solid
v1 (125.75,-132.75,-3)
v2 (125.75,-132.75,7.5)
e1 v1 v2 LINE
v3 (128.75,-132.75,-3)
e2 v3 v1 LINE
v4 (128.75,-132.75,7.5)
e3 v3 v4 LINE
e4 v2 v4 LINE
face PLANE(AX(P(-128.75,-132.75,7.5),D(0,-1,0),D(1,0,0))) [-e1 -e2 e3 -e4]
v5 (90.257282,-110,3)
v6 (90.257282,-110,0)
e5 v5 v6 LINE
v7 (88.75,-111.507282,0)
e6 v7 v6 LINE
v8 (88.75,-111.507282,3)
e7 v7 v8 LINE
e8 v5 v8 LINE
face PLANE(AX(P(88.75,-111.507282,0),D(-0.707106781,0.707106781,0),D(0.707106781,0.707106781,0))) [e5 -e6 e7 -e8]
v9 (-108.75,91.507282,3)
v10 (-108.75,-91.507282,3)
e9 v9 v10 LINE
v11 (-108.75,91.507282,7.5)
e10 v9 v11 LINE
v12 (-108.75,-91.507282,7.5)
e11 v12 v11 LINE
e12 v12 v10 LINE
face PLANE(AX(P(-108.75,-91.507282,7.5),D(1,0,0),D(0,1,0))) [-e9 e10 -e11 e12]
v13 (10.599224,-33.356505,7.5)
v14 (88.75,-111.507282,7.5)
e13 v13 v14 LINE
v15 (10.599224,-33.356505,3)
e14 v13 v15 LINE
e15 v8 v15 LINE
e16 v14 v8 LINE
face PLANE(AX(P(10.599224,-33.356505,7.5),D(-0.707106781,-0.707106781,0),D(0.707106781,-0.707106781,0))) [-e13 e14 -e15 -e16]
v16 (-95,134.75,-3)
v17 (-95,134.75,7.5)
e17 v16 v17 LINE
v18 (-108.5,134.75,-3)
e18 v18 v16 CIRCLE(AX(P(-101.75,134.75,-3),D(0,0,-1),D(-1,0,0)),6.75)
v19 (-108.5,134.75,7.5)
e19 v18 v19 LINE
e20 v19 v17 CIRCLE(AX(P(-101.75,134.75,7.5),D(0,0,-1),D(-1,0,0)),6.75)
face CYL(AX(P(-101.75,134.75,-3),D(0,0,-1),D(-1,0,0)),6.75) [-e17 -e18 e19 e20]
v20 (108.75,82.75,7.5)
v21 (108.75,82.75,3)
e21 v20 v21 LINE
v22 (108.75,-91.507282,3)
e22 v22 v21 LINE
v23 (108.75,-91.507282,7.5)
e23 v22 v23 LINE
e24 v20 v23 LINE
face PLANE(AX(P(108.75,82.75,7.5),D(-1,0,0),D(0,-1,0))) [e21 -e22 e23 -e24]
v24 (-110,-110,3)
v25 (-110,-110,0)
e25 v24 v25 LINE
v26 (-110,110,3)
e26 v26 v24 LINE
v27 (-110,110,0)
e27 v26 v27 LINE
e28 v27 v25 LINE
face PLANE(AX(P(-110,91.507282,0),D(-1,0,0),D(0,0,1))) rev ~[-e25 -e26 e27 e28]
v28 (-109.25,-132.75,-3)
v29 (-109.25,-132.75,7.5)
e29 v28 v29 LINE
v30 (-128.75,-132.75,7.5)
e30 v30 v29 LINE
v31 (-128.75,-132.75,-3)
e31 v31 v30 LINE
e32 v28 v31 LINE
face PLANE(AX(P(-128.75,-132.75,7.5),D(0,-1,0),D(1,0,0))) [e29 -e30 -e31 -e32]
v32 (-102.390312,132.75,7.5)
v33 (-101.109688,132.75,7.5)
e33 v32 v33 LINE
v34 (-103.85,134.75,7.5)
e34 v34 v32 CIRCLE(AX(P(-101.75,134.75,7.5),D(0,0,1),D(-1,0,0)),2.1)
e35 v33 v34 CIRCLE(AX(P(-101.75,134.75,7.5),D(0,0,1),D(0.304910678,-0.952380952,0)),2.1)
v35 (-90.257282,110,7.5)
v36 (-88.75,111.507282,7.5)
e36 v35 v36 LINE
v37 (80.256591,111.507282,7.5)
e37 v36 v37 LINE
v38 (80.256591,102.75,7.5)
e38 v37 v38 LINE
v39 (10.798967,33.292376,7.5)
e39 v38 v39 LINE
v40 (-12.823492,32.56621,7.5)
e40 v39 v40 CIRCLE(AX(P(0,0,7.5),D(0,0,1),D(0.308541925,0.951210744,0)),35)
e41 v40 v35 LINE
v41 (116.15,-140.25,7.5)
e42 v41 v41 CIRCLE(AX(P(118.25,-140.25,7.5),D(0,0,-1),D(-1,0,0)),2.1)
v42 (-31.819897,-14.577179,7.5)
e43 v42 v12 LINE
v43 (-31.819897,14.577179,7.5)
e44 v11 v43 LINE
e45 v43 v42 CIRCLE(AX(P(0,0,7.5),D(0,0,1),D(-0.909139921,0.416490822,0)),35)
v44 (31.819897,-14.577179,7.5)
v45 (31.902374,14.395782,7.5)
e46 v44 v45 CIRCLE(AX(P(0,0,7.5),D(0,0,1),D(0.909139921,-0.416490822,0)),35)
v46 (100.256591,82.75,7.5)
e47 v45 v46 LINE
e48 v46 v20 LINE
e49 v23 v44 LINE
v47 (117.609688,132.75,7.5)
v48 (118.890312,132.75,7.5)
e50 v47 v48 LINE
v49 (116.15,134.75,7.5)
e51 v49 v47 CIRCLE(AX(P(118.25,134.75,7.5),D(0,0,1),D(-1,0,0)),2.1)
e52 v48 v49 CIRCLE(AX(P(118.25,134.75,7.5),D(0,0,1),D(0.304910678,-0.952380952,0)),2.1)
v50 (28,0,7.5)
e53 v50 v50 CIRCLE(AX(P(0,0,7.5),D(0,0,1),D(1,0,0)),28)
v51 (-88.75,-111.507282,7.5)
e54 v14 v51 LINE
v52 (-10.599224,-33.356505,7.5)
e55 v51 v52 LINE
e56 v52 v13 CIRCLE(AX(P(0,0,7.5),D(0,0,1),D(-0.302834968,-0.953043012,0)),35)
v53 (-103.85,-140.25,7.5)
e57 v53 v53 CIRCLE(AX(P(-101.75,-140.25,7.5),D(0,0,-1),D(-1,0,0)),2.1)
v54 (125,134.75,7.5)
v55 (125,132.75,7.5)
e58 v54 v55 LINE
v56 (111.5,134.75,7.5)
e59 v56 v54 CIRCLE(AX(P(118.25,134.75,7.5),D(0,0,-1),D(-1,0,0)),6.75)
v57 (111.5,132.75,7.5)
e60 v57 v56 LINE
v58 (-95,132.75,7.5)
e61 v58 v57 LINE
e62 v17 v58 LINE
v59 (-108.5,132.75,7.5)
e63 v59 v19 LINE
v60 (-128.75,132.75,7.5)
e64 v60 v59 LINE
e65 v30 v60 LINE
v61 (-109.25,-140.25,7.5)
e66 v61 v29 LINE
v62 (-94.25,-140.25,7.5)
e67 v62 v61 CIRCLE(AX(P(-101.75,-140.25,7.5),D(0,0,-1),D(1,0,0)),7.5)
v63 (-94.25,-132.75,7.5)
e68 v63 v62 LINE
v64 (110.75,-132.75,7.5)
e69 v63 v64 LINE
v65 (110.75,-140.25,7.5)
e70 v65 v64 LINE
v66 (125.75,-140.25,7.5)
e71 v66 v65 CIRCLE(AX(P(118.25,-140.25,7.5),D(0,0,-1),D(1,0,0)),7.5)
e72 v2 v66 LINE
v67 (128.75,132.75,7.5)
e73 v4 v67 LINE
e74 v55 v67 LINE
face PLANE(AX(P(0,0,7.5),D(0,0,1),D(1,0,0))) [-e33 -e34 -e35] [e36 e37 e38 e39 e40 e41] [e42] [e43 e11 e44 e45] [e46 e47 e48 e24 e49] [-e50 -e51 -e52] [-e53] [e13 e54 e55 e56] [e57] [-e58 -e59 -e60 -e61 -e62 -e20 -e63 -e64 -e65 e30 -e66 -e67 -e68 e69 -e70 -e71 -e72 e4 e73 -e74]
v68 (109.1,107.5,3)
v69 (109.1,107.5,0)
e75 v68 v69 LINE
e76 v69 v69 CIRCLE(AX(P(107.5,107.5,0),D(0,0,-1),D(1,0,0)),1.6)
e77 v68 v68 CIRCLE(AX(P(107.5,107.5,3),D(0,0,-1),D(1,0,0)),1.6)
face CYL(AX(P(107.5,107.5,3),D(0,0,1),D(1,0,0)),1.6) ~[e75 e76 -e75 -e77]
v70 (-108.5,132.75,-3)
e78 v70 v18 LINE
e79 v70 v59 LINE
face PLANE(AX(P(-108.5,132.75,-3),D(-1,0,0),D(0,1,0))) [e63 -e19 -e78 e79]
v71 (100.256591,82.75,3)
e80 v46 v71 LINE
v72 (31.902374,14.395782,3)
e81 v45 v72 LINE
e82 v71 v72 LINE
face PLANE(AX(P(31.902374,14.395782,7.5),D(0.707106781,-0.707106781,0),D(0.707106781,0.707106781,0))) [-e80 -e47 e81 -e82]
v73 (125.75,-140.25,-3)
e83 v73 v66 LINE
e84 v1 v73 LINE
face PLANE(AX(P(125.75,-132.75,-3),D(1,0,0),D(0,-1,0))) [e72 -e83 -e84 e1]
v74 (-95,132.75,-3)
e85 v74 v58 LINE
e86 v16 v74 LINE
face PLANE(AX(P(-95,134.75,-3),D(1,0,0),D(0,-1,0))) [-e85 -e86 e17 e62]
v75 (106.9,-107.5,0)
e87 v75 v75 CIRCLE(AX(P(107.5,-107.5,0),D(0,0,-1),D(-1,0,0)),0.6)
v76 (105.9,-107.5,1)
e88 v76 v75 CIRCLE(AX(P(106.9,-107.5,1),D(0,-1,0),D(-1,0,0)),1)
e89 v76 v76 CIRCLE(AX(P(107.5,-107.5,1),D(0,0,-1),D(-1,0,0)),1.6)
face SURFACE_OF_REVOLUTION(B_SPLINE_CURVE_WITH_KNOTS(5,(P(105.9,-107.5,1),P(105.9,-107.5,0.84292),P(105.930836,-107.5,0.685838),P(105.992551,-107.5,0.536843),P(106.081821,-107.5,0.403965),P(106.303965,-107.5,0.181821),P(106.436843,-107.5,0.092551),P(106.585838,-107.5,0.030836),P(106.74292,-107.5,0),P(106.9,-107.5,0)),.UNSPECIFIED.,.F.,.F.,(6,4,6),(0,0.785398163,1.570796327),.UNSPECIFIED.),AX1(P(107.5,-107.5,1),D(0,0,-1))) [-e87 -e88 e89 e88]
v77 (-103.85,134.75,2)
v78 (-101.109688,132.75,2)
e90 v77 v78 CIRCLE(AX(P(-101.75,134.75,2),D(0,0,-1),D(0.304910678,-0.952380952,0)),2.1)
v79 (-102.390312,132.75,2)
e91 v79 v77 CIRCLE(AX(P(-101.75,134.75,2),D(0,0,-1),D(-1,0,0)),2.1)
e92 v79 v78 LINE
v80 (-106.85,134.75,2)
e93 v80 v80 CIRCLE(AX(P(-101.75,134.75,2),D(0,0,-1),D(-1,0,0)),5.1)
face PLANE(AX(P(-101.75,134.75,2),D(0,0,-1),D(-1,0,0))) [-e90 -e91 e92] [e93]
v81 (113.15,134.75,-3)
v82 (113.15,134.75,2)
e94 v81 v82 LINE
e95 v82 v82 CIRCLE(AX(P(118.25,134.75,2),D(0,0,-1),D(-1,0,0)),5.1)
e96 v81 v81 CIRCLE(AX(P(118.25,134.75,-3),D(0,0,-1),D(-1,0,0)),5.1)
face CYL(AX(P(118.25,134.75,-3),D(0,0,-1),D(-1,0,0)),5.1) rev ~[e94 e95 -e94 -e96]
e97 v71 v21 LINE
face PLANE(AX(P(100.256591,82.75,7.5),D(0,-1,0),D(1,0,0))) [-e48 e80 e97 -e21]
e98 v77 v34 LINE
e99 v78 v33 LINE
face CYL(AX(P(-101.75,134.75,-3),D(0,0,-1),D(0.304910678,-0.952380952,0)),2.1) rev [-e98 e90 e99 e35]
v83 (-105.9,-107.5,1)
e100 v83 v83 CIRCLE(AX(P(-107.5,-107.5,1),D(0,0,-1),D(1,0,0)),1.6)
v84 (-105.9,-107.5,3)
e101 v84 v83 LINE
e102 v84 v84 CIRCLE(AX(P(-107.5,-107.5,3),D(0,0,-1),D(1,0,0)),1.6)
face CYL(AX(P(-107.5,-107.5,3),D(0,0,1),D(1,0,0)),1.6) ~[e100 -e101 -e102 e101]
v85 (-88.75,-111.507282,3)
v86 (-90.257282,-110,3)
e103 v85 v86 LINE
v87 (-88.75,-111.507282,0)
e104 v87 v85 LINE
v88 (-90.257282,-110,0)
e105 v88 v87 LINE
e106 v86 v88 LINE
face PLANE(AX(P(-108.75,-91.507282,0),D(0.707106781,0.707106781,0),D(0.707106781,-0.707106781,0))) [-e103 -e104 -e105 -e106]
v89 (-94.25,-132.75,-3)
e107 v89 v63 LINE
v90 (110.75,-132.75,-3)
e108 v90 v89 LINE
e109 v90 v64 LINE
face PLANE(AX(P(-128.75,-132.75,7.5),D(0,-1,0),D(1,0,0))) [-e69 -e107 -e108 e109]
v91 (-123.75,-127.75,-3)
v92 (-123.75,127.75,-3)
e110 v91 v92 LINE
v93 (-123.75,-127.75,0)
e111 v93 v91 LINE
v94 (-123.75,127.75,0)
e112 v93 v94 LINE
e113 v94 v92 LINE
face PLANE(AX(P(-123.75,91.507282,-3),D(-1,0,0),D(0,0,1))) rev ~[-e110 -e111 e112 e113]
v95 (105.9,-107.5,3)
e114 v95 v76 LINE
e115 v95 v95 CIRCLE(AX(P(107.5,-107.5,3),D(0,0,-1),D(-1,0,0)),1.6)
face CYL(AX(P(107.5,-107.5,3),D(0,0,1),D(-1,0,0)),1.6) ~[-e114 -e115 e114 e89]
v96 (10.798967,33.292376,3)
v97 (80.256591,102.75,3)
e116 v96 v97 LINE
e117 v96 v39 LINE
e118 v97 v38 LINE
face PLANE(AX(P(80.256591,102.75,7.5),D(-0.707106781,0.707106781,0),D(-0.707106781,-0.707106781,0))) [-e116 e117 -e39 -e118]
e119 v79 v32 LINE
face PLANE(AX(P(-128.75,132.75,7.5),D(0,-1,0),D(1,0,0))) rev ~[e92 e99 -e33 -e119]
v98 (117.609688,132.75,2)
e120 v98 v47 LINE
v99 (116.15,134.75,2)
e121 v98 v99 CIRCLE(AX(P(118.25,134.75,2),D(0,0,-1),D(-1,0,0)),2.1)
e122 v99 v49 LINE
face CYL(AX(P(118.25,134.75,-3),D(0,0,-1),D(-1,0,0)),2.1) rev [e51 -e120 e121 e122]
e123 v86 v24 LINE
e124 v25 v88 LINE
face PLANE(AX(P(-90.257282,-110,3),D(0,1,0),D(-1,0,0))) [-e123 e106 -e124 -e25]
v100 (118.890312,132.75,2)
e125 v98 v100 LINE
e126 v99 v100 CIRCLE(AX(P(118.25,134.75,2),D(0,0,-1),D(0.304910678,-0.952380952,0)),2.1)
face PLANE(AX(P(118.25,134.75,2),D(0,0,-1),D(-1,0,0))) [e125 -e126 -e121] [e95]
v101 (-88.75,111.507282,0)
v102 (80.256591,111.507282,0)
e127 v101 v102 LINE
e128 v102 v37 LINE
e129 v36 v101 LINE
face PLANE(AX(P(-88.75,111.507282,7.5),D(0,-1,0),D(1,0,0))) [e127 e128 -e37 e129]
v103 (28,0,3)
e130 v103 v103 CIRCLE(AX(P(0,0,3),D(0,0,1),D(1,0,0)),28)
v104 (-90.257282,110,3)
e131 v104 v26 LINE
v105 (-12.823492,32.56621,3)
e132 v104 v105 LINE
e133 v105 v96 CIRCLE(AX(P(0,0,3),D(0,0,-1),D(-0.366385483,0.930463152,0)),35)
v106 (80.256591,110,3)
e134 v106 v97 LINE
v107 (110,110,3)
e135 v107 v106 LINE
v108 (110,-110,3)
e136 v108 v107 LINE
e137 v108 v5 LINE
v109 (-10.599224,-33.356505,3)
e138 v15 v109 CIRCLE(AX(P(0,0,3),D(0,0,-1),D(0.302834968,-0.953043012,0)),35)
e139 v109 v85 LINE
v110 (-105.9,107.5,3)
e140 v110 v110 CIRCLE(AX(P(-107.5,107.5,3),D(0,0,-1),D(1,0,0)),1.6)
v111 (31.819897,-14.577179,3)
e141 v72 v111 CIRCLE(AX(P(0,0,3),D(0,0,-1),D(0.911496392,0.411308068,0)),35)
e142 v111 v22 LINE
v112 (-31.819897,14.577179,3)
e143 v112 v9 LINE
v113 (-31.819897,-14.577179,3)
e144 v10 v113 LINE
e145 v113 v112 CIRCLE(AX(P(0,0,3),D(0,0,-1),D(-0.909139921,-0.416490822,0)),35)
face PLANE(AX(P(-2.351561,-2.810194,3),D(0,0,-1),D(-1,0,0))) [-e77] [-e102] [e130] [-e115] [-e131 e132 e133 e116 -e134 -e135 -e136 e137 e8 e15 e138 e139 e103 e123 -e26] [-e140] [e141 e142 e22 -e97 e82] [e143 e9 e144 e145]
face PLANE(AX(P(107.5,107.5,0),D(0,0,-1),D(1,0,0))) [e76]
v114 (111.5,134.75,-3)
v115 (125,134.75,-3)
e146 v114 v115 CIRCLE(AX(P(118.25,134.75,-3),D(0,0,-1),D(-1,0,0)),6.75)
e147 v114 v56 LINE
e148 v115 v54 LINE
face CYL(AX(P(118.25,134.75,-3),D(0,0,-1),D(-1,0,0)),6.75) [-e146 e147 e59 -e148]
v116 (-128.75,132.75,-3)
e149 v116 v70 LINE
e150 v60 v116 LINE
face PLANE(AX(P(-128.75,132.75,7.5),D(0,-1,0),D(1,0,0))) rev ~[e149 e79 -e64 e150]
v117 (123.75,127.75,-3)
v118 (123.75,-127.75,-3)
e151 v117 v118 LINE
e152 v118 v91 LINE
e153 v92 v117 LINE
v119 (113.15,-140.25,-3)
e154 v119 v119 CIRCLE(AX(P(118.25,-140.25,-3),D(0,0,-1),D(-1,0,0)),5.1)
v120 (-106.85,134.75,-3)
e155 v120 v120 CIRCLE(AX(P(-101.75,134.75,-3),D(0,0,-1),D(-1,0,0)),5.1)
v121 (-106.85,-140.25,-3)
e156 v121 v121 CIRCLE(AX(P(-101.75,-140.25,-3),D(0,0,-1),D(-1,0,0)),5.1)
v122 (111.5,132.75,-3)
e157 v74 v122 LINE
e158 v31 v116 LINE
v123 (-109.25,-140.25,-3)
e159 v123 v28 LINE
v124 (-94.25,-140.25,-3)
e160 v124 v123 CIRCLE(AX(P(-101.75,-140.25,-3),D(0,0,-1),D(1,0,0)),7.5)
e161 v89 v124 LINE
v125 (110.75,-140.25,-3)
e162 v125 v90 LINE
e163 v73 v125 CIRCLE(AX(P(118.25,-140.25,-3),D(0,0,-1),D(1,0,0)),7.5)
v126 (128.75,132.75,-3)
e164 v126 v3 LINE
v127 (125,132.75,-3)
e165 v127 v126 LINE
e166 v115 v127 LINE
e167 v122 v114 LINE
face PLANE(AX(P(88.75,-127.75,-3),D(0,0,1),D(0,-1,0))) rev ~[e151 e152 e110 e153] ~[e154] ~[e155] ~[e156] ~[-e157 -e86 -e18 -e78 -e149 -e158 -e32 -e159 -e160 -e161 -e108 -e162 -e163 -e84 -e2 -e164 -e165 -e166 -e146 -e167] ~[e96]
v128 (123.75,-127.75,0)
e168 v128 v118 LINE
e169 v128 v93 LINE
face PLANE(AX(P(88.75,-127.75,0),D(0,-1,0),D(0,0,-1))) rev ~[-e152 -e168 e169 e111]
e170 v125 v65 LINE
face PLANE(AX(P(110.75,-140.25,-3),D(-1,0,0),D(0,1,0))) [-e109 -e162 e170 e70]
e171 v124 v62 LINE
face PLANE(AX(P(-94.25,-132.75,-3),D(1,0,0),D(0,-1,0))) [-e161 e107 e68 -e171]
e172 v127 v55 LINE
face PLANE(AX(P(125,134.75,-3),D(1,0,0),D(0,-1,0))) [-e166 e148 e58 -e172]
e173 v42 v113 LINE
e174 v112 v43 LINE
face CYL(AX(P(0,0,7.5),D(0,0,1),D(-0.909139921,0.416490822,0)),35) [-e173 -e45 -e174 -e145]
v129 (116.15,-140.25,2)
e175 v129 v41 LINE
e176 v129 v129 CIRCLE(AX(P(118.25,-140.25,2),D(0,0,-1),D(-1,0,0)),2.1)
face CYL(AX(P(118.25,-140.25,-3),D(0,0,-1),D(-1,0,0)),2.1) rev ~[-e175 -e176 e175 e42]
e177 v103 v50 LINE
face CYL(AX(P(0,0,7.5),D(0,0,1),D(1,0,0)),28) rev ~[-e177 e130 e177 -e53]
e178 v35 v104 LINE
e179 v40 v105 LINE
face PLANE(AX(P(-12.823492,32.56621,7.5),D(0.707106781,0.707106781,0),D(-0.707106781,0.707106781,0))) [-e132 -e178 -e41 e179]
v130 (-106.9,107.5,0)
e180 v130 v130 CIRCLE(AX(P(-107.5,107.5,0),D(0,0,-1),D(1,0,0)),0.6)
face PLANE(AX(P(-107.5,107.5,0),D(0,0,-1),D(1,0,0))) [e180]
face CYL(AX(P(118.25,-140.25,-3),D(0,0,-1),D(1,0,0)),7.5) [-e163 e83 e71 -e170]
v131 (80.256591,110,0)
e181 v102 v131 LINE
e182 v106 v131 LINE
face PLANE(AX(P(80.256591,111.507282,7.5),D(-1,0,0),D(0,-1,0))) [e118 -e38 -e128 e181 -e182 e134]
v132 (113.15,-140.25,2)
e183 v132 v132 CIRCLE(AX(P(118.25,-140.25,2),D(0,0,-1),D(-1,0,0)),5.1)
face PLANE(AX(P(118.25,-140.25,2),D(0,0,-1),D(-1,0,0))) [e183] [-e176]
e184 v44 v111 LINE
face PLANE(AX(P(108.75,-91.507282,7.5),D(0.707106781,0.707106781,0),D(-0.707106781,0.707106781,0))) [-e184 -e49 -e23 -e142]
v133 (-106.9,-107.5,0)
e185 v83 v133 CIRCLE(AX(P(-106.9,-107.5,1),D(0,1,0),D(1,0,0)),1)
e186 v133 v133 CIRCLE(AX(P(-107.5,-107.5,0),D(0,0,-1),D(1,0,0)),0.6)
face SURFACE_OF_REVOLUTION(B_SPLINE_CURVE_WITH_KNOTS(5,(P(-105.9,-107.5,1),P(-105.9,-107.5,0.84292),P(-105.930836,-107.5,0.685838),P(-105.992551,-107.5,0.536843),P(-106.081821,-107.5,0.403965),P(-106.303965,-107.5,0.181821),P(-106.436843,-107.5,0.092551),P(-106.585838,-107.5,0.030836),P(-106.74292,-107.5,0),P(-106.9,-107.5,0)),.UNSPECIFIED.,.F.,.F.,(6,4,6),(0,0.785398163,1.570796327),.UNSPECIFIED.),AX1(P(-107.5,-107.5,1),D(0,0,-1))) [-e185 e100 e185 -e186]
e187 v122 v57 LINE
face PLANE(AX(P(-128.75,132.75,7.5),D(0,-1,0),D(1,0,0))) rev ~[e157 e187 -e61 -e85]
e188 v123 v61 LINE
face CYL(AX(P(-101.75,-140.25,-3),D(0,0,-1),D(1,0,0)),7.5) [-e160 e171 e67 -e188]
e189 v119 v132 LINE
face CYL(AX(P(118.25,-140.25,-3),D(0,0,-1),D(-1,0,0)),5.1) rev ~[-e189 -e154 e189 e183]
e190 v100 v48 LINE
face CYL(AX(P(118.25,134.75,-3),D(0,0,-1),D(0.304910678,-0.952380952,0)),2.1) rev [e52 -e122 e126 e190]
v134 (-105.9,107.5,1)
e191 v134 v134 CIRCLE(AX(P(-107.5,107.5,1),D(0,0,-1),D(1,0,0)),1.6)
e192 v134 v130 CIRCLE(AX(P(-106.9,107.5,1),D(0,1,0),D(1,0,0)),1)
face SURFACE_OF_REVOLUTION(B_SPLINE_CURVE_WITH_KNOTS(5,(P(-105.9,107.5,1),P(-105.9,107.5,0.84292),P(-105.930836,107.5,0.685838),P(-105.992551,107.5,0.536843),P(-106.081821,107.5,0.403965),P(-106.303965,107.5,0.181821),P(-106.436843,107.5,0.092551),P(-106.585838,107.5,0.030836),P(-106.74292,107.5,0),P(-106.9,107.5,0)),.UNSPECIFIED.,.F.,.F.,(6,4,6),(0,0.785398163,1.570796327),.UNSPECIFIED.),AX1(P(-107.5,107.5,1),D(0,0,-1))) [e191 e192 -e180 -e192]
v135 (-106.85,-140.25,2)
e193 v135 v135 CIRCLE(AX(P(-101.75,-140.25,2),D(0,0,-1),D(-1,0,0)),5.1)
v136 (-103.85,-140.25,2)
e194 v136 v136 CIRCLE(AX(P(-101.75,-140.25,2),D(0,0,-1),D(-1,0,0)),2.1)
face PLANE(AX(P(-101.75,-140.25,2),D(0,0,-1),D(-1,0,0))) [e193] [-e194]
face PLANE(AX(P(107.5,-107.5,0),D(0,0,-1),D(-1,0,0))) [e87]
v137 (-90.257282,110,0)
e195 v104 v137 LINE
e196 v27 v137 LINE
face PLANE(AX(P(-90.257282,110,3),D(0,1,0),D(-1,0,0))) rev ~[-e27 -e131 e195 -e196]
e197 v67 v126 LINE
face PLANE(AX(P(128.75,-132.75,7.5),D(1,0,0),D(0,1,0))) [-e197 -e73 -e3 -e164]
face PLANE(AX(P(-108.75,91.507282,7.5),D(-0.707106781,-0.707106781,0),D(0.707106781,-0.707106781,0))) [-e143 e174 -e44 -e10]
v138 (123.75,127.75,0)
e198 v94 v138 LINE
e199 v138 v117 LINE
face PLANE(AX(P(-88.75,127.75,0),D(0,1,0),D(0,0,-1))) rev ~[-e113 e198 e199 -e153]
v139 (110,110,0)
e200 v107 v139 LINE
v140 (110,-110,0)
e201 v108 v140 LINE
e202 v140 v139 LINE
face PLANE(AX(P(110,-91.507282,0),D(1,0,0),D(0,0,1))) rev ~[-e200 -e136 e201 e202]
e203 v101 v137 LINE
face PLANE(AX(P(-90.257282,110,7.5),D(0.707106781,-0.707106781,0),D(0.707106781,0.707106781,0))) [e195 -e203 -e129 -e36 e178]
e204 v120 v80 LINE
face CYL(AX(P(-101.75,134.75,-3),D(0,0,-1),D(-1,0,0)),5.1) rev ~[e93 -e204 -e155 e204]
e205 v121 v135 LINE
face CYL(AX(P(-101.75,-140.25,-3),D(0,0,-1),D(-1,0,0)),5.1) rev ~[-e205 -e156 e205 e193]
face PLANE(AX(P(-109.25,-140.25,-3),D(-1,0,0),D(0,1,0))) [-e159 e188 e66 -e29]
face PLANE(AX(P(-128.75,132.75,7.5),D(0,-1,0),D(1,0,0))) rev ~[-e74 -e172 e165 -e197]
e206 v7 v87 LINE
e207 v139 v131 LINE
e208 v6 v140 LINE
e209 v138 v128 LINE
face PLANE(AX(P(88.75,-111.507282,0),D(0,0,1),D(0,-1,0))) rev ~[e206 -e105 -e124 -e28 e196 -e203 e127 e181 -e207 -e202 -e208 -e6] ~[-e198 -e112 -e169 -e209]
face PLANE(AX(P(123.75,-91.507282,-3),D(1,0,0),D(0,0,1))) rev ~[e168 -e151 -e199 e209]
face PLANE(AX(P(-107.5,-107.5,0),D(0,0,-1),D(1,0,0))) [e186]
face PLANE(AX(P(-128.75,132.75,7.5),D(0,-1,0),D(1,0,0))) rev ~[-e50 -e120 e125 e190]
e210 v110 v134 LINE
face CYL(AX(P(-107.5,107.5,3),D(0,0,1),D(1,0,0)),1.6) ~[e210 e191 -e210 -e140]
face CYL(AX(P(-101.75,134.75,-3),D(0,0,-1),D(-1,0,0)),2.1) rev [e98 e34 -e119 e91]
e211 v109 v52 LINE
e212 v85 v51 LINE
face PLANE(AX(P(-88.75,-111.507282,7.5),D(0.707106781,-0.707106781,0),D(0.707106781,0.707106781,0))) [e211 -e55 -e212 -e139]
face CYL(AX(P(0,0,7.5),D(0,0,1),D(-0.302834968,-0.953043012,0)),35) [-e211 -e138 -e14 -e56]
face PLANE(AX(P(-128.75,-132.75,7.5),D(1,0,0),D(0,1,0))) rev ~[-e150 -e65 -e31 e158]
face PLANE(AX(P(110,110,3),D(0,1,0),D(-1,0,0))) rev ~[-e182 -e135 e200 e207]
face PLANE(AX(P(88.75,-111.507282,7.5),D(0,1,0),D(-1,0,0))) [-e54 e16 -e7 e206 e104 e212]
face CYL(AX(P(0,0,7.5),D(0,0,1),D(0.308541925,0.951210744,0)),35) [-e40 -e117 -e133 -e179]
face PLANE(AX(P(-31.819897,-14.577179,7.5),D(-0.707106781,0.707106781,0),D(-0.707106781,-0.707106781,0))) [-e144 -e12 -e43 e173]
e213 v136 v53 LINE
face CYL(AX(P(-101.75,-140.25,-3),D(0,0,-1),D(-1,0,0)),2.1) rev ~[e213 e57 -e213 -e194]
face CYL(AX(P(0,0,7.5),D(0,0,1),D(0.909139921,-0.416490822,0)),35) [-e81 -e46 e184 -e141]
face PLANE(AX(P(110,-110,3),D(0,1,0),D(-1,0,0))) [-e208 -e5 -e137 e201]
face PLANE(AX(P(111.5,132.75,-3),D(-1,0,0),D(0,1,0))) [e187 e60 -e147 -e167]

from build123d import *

# Parameters (mm, degrees)
BOSS_EXTRU_1_DEPTH      = 5
BOSS_EXTRU_1_2_DEPTH    = 5
BOSS_EXTRU_1_3_DEPTH    = 5
BOSS_EXTRU_1_4_DEPTH    = 5
BOSS_EXTRU_2_DEPTH      = 3
ENL_V_MAT_EXTRU_2_DEPTH = 186.027362841
ESQUISSE4_R             = 1.6
BOSS_EXTRU_3_DEPTH      = 3
BOSS_EXTRU_4_DEPTH      = 183.014563107
BOSS_EXTRU_6_DEPTH      = 169.006591337
BOSS_EXTRU_7_DEPTH      = 174.257281553
BOSS_EXTRU_8_DEPTH      = 177.5
ESQUISSE10_R            = 28
BOSS_EXTRU_9_DEPTH      = 2
BOSS_EXTRU_11_START     = 2.5
ESQUISSE11_W            = 257.5
ESQUISSE11_H            = 265.5
ESQUISSE11_R            = 28
BOSS_EXTRU_11_DEPTH     = 2.5
ESQUISSE12_R            = 2.1
BOSS_EXTRU_12_DEPTH     = 10.5
ESQUISSE13_R            = 5.1
ENL_V_MAT_EXTRU_3_DEPTH = 5
BOSS_EXTRU_13_DEPTH     = 10.5
ESQUISSE15_R            = 5.1
ENL_V_MAT_EXTRU_4_DEPTH = 5
CONG_1_R                = 1


with BuildPart() as part:
    # Esquisse1 → Boss.-Extru.1 (new body)
    with BuildSketch(Plane.XY):
        Polygon((128.75, -132.75), (88.75, -132.75), (88.75, -111.507281553), (108.75, -91.507281553), (128.75, -91.507281553), align=None)
    extrude(amount=BOSS_EXTRU_1_DEPTH)



with BuildPart() as body_2:
    # Esquisse1 → Boss.-Extru.1 2 (new body)
    with BuildSketch(Plane.XY):
        Polygon((128.75, 132.75), (80.256591337, 132.75), (80.256591337, 102.75), (100.256591337, 82.75), (128.75, 82.75), align=None)
    extrude(amount=BOSS_EXTRU_1_2_DEPTH)


with BuildPart() as body_3:
    # Esquisse1 → Boss.-Extru.1 3 (new body)
    with BuildSketch(Plane.XY):
        Polygon((-128.75, -132.75), (-128.75, -91.507281553), (-108.75, -91.507281553), (-88.75, -111.507281553), (-88.75, -132.75), align=None)
    extrude(amount=BOSS_EXTRU_1_3_DEPTH)


with BuildPart() as body_4:
    # Esquisse1 → Boss.-Extru.1 4 (new body)
    with BuildSketch(Plane.XY):
        Polygon((-88.75, 132.75), (-88.75, 111.507281553), (-108.75, 91.507281553), (-128.75, 91.507281553), (-128.75, 132.75), align=None)
    extrude(amount=BOSS_EXTRU_1_4_DEPTH)


with BuildPart() as part_1:
    add(part.part)

    add(body_2.part)  # Boss.-Extru.2 merges body 2

    add(body_3.part)  # Boss.-Extru.2 merges body 3

    add(body_4.part)  # Boss.-Extru.2 merges body 4
    # Esquisse2 → Boss.-Extru.2 (add)
    with BuildSketch(Plane(origin=(0, 0, 0), x_dir=(-1, 0, 0), z_dir=(0, 0, -1))):
        Polygon((-80.256591337, 127.75), (-80.256591337, 132.75), (-128.75, 132.75), (-128.75, 82.75), (-123.75, 82.75), (-123.75, 127.75), align=None)
        Polygon((-123.75, -127.75), (-88.75, -127.75), (-88.75, -132.75), (-128.75, -132.75), (-128.75, -91.507281553), (-123.75, -91.507281553), align=None)
        Polygon((88.75, -127.75), (88.75, -132.75), (128.75, -132.75), (128.75, -91.507281553), (123.75, -91.507281553), (123.75, -127.75), align=None)
        Polygon((128.75, 132.75), (88.75, 132.75), (88.75, 127.75), (123.75, 127.75), (123.75, 91.507281553), (128.75, 91.507281553), align=None)
    extrude(amount=BOSS_EXTRU_2_DEPTH)

    # Esquisse3 → Enlèv. mat.-Extru.2 (cut, through all)
    with BuildSketch(Plane.XY.offset(3)):
        Polygon((110, 82.75), (110, 110), (80.256591337, 110), (80.256591337, 102.75), (100.256591337, 82.75), align=None)
        Polygon((-90.257281553, 110), (-110, 110), (-110, 91.507281553), (-108.75, 91.507281553), align=None)
        Polygon((-110, -110), (-110, -91.507281553), (-108.75, -91.507281553), (-90.257281553, -110), align=None)
        Polygon((110, -91.507281553), (110, -110), (90.257281553, -110), (108.75, -91.507281553), align=None)
    extrude(amount=-ENL_V_MAT_EXTRU_2_DEPTH, mode=Mode.SUBTRACT)

    # Esquisse4 → Boss.-Extru.3 (add)
    with BuildSketch(Plane(origin=(0, 0, 3), x_dir=(-1, 0, 0), z_dir=(0, 0, -1))):
        with Locations(Location((-107.5, 107.5, 0), (0, 0, 180))):
            Circle(ESQUISSE4_R)
        with Locations((-107.5, -107.5)):
            Circle(ESQUISSE4_R)
        with Locations(Location((107.5, -107.5, 0), (0, 0, 180))):
            Circle(ESQUISSE4_R)
        with Locations(Location((107.5, 107.5, 0), (0, 0, 180))):
            Circle(ESQUISSE4_R)
    extrude(amount=BOSS_EXTRU_3_DEPTH)

    # Esquisse5 → Boss.-Extru.4 (add)
    with BuildSketch(Plane.XZ.offset(-91.507281553)):
        Polygon((-123.75, 0), (-110, 0), (-110, 3), (-108.75, 3), (-108.75, 5), (-128.75, 5), (-128.75, -3), (-123.75, -3), align=None)
    extrude(amount=BOSS_EXTRU_4_DEPTH)

    # Esquisse7 → Boss.-Extru.6 (add)
    with BuildSketch(Plane(origin=(-88.75, 0, 0), x_dir=(0, 0, -1), z_dir=(1, 0, 0))):
        Polygon((0, 111.507281553), (0, 127.75), (3, 127.75), (3, 132.75), (-5, 132.75), (-5, 111.507281553), align=None)
    extrude(amount=BOSS_EXTRU_6_DEPTH)

    # Esquisse8 → Boss.-Extru.7 (add)
    with BuildSketch(Plane(origin=(0, -91.507281553, 0), x_dir=(1, 0, 0), z_dir=(0, 1, 0))):
        Polygon((123.75, 0), (110, 0), (110, -3), (108.75, -3), (108.75, -5), (128.75, -5), (128.75, 3), (123.75, 3), align=None)
    extrude(amount=BOSS_EXTRU_7_DEPTH)

    # Esquisse9 → Boss.-Extru.8 (add)
    with BuildSketch(Plane.ZY.offset(-88.75)):
        Polygon((0, -111.507281553), (0, -127.75), (-3, -127.75), (-3, -132.75), (5, -132.75), (5, -111.507281553), align=None)
    extrude(amount=BOSS_EXTRU_8_DEPTH)

    # Esquisse10 → Boss.-Extru.9 (add)
    with BuildSketch(Plane.XY.offset(5)):
        with BuildLine():
            Line((100.256591337, 82.75), (31.902373727, 14.39578239))
            ThreePointArc((31.902373727, 14.39578239), (34.999858189, -0.099633105), (31.819897219, -14.577178773))
            Line((31.819897219, -14.577178773), (108.75, -91.507281553))
            Line((108.75, -91.507281553), (88.75, -111.507281553))
            Line((88.75, -111.507281553), (10.599223862, -33.356505415))
            ThreePointArc((10.599223862, -33.356505415), (0, -35), (-10.599223862, -33.356505415))
            Line((-10.599223862, -33.356505415), (-88.75, -111.507281553))
            Line((-88.75, -111.507281553), (-108.75, -91.507281553))
            Line((-108.75, -91.507281553), (-31.819897219, -14.577178773))
            ThreePointArc((-31.819897219, -14.577178773), (-35, 0), (-31.819897219, 14.577178773))
            Line((-31.819897219, 14.577178773), (-108.75, 91.507281553))
            Line((-108.75, 91.507281553), (-90.257281553, 110))
            Line((-90.257281553, 110), (-12.823491891, 32.566210337))
            ThreePointArc((-12.823491891, 32.566210337), (-1.075408771, 34.983474613), (10.798967391, 33.292376054))
            Line((10.798967391, 33.292376054), (80.256591337, 102.75))
            Line((80.256591337, 102.75), (100.256591337, 82.75))
        make_face()
        Circle(ESQUISSE10_R, mode=Mode.SUBTRACT)
    extrude(amount=-BOSS_EXTRU_9_DEPTH)

    # Esquisse11 → Boss.-Extru.11 (add)
    with BuildSketch(Plane.XY.offset(5).offset(BOSS_EXTRU_11_START)):
        Rectangle(ESQUISSE11_W, ESQUISSE11_H)
        Circle(ESQUISSE11_R, mode=Mode.SUBTRACT)
        with BuildLine():
            Line((80.256591337, 111.507281553), (80.256591337, 102.75))
            Line((80.256591337, 102.75), (10.798967391, 33.292376054))
            ThreePointArc((10.798967391, 33.292376054), (-1.075408771, 34.983474613), (-12.823491891, 32.566210337))
            Line((-12.823491891, 32.566210337), (-90.257281553, 110))
            Line((-90.257281553, 110), (-88.75, 111.507281553))
            Line((-88.75, 111.507281553), (80.256591337, 111.507281553))
        make_face(mode=Mode.SUBTRACT)
        with BuildLine():
            Line((-108.75, 91.507281553), (-31.819897219, 14.577178773))
            ThreePointArc((-31.819897219, 14.577178773), (-35, 0), (-31.819897219, -14.577178773))
            Line((-31.819897219, -14.577178773), (-108.75, -91.507281553))
            Line((-108.75, -91.507281553), (-108.75, 91.507281553))
        make_face(mode=Mode.SUBTRACT)
        with BuildLine():
            Line((-88.75, -111.507281553), (-10.599223862, -33.356505415))
            ThreePointArc((-10.599223862, -33.356505415), (0, -35), (10.599223862, -33.356505415))
            Line((10.599223862, -33.356505415), (88.75, -111.507281553))
            Line((88.75, -111.507281553), (-88.75, -111.507281553))
        make_face(mode=Mode.SUBTRACT)
        with BuildLine():
            Line((108.75, -91.507281553), (31.819897219, -14.577178773))
            ThreePointArc((31.819897219, -14.577178773), (34.999858189, -0.099633105), (31.902373727, 14.39578239))
            Line((31.902373727, 14.39578239), (100.256591337, 82.75))
            Line((100.256591337, 82.75), (108.75, 82.75))
            Line((108.75, 82.75), (108.75, -91.507281553))
        make_face(mode=Mode.SUBTRACT)
    extrude(amount=-BOSS_EXTRU_11_DEPTH)

    # Esquisse12 → Boss.-Extru.12 (add)
    # profile 1 of 2: a face of its own
    with BuildSketch(Plane(origin=(0, 0, -3), x_dir=(-1, 0, 0), z_dir=(0, 0, -1))):
        with BuildLine():
            Line((109.25, -140.25), (109.25, -132.75))
            Line((109.25, -132.75), (94.25, -132.75))
            Line((94.25, -132.75), (94.25, -140.25))
            ThreePointArc((94.25, -140.25), (101.75, -147.75), (109.25, -140.25))
        make_face()
        with Locations((101.75, -140.25)):
            Circle(ESQUISSE12_R, mode=Mode.SUBTRACT)
    # profile 2 of 2: a face of its own
    with BuildSketch(Plane(origin=(0, 0, -3), x_dir=(-1, 0, 0), z_dir=(0, 0, -1))):
        with BuildLine():
            Line((-110.75, -140.25), (-110.75, -132.75))
            Line((-110.75, -132.75), (-125.75, -132.75))
            Line((-125.75, -132.75), (-125.75, -140.25))
            ThreePointArc((-125.75, -140.25), (-118.25, -147.75), (-110.75, -140.25))
        make_face()
        with Locations((-118.25, -140.25)):
            Circle(ESQUISSE12_R, mode=Mode.SUBTRACT)
    extrude(amount=-BOSS_EXTRU_12_DEPTH)

    # Esquisse13 → Enlèv. mat.-Extru.3 (cut)
    with BuildSketch(Plane(origin=(0, 0, -3), x_dir=(-1, 0, 0), z_dir=(0, 0, -1))):
        with Locations((-118.25, -140.25)):
            Circle(ESQUISSE13_R)
        with Locations((101.75, -140.25)):
            Circle(ESQUISSE13_R)
    extrude(amount=-ENL_V_MAT_EXTRU_3_DEPTH, mode=Mode.SUBTRACT)

    # Esquisse14 → Boss.-Extru.13 (add)
    with BuildSketch(Plane(origin=(0, 0, -3), x_dir=(-1, 0, 0), z_dir=(0, 0, -1))):
        with BuildLine():
            Line((95, 134.75), (95, 132.75))
            Line((95, 132.75), (101.109687576, 132.75))
            ThreePointArc((101.109687576, 132.75), (100.51198871, 136.44626886), (103.85, 134.75))
            ThreePointArc((103.85, 134.75), (103.44626886, 133.51198871), (102.390312424, 132.75))
            Line((102.390312424, 132.75), (108.5, 132.75))
            Line((108.5, 132.75), (108.5, 134.75))
            ThreePointArc((108.5, 134.75), (101.75, 141.5), (95, 134.75))
        make_face()
        with BuildLine():
            ThreePointArc((-111.5, 134.75), (-118.25, 141.5), (-125, 134.75))
            Line((-125, 134.75), (-125, 132.75))
            Line((-125, 132.75), (-118.890312424, 132.75))
            ThreePointArc((-118.890312424, 132.75), (-119.48801129, 136.44626886), (-116.15, 134.75))
            ThreePointArc((-116.15, 134.75), (-116.55373114, 133.51198871), (-117.609687576, 132.75))
            Line((-117.609687576, 132.75), (-111.5, 132.75))
            Line((-111.5, 132.75), (-111.5, 134.75))
        make_face()
    extrude(amount=-BOSS_EXTRU_13_DEPTH)

    # Esquisse15 → Enlèv. mat.-Extru.4 (cut)
    with BuildSketch(Plane(origin=(0, 0, -3), x_dir=(-1, 0, 0), z_dir=(0, 0, -1))):
        with Locations((101.75, 134.75)):
            Circle(ESQUISSE15_R)
        with Locations((-118.25, 134.75)):
            Circle(ESQUISSE15_R)
    extrude(amount=-ENL_V_MAT_EXTRU_4_DEPTH, mode=Mode.SUBTRACT)

    # Congé1
    cong_1_edges = [part_1.edges().sort_by_distance(p)[0] for p in [
        (-109.1, 107.5, 0),
        (-109.1, -107.5, 0),
        (109.1, -107.5, 0),
    ]]
    fillet(cong_1_edges, radius=CONG_1_R)


solid = part_1.part
